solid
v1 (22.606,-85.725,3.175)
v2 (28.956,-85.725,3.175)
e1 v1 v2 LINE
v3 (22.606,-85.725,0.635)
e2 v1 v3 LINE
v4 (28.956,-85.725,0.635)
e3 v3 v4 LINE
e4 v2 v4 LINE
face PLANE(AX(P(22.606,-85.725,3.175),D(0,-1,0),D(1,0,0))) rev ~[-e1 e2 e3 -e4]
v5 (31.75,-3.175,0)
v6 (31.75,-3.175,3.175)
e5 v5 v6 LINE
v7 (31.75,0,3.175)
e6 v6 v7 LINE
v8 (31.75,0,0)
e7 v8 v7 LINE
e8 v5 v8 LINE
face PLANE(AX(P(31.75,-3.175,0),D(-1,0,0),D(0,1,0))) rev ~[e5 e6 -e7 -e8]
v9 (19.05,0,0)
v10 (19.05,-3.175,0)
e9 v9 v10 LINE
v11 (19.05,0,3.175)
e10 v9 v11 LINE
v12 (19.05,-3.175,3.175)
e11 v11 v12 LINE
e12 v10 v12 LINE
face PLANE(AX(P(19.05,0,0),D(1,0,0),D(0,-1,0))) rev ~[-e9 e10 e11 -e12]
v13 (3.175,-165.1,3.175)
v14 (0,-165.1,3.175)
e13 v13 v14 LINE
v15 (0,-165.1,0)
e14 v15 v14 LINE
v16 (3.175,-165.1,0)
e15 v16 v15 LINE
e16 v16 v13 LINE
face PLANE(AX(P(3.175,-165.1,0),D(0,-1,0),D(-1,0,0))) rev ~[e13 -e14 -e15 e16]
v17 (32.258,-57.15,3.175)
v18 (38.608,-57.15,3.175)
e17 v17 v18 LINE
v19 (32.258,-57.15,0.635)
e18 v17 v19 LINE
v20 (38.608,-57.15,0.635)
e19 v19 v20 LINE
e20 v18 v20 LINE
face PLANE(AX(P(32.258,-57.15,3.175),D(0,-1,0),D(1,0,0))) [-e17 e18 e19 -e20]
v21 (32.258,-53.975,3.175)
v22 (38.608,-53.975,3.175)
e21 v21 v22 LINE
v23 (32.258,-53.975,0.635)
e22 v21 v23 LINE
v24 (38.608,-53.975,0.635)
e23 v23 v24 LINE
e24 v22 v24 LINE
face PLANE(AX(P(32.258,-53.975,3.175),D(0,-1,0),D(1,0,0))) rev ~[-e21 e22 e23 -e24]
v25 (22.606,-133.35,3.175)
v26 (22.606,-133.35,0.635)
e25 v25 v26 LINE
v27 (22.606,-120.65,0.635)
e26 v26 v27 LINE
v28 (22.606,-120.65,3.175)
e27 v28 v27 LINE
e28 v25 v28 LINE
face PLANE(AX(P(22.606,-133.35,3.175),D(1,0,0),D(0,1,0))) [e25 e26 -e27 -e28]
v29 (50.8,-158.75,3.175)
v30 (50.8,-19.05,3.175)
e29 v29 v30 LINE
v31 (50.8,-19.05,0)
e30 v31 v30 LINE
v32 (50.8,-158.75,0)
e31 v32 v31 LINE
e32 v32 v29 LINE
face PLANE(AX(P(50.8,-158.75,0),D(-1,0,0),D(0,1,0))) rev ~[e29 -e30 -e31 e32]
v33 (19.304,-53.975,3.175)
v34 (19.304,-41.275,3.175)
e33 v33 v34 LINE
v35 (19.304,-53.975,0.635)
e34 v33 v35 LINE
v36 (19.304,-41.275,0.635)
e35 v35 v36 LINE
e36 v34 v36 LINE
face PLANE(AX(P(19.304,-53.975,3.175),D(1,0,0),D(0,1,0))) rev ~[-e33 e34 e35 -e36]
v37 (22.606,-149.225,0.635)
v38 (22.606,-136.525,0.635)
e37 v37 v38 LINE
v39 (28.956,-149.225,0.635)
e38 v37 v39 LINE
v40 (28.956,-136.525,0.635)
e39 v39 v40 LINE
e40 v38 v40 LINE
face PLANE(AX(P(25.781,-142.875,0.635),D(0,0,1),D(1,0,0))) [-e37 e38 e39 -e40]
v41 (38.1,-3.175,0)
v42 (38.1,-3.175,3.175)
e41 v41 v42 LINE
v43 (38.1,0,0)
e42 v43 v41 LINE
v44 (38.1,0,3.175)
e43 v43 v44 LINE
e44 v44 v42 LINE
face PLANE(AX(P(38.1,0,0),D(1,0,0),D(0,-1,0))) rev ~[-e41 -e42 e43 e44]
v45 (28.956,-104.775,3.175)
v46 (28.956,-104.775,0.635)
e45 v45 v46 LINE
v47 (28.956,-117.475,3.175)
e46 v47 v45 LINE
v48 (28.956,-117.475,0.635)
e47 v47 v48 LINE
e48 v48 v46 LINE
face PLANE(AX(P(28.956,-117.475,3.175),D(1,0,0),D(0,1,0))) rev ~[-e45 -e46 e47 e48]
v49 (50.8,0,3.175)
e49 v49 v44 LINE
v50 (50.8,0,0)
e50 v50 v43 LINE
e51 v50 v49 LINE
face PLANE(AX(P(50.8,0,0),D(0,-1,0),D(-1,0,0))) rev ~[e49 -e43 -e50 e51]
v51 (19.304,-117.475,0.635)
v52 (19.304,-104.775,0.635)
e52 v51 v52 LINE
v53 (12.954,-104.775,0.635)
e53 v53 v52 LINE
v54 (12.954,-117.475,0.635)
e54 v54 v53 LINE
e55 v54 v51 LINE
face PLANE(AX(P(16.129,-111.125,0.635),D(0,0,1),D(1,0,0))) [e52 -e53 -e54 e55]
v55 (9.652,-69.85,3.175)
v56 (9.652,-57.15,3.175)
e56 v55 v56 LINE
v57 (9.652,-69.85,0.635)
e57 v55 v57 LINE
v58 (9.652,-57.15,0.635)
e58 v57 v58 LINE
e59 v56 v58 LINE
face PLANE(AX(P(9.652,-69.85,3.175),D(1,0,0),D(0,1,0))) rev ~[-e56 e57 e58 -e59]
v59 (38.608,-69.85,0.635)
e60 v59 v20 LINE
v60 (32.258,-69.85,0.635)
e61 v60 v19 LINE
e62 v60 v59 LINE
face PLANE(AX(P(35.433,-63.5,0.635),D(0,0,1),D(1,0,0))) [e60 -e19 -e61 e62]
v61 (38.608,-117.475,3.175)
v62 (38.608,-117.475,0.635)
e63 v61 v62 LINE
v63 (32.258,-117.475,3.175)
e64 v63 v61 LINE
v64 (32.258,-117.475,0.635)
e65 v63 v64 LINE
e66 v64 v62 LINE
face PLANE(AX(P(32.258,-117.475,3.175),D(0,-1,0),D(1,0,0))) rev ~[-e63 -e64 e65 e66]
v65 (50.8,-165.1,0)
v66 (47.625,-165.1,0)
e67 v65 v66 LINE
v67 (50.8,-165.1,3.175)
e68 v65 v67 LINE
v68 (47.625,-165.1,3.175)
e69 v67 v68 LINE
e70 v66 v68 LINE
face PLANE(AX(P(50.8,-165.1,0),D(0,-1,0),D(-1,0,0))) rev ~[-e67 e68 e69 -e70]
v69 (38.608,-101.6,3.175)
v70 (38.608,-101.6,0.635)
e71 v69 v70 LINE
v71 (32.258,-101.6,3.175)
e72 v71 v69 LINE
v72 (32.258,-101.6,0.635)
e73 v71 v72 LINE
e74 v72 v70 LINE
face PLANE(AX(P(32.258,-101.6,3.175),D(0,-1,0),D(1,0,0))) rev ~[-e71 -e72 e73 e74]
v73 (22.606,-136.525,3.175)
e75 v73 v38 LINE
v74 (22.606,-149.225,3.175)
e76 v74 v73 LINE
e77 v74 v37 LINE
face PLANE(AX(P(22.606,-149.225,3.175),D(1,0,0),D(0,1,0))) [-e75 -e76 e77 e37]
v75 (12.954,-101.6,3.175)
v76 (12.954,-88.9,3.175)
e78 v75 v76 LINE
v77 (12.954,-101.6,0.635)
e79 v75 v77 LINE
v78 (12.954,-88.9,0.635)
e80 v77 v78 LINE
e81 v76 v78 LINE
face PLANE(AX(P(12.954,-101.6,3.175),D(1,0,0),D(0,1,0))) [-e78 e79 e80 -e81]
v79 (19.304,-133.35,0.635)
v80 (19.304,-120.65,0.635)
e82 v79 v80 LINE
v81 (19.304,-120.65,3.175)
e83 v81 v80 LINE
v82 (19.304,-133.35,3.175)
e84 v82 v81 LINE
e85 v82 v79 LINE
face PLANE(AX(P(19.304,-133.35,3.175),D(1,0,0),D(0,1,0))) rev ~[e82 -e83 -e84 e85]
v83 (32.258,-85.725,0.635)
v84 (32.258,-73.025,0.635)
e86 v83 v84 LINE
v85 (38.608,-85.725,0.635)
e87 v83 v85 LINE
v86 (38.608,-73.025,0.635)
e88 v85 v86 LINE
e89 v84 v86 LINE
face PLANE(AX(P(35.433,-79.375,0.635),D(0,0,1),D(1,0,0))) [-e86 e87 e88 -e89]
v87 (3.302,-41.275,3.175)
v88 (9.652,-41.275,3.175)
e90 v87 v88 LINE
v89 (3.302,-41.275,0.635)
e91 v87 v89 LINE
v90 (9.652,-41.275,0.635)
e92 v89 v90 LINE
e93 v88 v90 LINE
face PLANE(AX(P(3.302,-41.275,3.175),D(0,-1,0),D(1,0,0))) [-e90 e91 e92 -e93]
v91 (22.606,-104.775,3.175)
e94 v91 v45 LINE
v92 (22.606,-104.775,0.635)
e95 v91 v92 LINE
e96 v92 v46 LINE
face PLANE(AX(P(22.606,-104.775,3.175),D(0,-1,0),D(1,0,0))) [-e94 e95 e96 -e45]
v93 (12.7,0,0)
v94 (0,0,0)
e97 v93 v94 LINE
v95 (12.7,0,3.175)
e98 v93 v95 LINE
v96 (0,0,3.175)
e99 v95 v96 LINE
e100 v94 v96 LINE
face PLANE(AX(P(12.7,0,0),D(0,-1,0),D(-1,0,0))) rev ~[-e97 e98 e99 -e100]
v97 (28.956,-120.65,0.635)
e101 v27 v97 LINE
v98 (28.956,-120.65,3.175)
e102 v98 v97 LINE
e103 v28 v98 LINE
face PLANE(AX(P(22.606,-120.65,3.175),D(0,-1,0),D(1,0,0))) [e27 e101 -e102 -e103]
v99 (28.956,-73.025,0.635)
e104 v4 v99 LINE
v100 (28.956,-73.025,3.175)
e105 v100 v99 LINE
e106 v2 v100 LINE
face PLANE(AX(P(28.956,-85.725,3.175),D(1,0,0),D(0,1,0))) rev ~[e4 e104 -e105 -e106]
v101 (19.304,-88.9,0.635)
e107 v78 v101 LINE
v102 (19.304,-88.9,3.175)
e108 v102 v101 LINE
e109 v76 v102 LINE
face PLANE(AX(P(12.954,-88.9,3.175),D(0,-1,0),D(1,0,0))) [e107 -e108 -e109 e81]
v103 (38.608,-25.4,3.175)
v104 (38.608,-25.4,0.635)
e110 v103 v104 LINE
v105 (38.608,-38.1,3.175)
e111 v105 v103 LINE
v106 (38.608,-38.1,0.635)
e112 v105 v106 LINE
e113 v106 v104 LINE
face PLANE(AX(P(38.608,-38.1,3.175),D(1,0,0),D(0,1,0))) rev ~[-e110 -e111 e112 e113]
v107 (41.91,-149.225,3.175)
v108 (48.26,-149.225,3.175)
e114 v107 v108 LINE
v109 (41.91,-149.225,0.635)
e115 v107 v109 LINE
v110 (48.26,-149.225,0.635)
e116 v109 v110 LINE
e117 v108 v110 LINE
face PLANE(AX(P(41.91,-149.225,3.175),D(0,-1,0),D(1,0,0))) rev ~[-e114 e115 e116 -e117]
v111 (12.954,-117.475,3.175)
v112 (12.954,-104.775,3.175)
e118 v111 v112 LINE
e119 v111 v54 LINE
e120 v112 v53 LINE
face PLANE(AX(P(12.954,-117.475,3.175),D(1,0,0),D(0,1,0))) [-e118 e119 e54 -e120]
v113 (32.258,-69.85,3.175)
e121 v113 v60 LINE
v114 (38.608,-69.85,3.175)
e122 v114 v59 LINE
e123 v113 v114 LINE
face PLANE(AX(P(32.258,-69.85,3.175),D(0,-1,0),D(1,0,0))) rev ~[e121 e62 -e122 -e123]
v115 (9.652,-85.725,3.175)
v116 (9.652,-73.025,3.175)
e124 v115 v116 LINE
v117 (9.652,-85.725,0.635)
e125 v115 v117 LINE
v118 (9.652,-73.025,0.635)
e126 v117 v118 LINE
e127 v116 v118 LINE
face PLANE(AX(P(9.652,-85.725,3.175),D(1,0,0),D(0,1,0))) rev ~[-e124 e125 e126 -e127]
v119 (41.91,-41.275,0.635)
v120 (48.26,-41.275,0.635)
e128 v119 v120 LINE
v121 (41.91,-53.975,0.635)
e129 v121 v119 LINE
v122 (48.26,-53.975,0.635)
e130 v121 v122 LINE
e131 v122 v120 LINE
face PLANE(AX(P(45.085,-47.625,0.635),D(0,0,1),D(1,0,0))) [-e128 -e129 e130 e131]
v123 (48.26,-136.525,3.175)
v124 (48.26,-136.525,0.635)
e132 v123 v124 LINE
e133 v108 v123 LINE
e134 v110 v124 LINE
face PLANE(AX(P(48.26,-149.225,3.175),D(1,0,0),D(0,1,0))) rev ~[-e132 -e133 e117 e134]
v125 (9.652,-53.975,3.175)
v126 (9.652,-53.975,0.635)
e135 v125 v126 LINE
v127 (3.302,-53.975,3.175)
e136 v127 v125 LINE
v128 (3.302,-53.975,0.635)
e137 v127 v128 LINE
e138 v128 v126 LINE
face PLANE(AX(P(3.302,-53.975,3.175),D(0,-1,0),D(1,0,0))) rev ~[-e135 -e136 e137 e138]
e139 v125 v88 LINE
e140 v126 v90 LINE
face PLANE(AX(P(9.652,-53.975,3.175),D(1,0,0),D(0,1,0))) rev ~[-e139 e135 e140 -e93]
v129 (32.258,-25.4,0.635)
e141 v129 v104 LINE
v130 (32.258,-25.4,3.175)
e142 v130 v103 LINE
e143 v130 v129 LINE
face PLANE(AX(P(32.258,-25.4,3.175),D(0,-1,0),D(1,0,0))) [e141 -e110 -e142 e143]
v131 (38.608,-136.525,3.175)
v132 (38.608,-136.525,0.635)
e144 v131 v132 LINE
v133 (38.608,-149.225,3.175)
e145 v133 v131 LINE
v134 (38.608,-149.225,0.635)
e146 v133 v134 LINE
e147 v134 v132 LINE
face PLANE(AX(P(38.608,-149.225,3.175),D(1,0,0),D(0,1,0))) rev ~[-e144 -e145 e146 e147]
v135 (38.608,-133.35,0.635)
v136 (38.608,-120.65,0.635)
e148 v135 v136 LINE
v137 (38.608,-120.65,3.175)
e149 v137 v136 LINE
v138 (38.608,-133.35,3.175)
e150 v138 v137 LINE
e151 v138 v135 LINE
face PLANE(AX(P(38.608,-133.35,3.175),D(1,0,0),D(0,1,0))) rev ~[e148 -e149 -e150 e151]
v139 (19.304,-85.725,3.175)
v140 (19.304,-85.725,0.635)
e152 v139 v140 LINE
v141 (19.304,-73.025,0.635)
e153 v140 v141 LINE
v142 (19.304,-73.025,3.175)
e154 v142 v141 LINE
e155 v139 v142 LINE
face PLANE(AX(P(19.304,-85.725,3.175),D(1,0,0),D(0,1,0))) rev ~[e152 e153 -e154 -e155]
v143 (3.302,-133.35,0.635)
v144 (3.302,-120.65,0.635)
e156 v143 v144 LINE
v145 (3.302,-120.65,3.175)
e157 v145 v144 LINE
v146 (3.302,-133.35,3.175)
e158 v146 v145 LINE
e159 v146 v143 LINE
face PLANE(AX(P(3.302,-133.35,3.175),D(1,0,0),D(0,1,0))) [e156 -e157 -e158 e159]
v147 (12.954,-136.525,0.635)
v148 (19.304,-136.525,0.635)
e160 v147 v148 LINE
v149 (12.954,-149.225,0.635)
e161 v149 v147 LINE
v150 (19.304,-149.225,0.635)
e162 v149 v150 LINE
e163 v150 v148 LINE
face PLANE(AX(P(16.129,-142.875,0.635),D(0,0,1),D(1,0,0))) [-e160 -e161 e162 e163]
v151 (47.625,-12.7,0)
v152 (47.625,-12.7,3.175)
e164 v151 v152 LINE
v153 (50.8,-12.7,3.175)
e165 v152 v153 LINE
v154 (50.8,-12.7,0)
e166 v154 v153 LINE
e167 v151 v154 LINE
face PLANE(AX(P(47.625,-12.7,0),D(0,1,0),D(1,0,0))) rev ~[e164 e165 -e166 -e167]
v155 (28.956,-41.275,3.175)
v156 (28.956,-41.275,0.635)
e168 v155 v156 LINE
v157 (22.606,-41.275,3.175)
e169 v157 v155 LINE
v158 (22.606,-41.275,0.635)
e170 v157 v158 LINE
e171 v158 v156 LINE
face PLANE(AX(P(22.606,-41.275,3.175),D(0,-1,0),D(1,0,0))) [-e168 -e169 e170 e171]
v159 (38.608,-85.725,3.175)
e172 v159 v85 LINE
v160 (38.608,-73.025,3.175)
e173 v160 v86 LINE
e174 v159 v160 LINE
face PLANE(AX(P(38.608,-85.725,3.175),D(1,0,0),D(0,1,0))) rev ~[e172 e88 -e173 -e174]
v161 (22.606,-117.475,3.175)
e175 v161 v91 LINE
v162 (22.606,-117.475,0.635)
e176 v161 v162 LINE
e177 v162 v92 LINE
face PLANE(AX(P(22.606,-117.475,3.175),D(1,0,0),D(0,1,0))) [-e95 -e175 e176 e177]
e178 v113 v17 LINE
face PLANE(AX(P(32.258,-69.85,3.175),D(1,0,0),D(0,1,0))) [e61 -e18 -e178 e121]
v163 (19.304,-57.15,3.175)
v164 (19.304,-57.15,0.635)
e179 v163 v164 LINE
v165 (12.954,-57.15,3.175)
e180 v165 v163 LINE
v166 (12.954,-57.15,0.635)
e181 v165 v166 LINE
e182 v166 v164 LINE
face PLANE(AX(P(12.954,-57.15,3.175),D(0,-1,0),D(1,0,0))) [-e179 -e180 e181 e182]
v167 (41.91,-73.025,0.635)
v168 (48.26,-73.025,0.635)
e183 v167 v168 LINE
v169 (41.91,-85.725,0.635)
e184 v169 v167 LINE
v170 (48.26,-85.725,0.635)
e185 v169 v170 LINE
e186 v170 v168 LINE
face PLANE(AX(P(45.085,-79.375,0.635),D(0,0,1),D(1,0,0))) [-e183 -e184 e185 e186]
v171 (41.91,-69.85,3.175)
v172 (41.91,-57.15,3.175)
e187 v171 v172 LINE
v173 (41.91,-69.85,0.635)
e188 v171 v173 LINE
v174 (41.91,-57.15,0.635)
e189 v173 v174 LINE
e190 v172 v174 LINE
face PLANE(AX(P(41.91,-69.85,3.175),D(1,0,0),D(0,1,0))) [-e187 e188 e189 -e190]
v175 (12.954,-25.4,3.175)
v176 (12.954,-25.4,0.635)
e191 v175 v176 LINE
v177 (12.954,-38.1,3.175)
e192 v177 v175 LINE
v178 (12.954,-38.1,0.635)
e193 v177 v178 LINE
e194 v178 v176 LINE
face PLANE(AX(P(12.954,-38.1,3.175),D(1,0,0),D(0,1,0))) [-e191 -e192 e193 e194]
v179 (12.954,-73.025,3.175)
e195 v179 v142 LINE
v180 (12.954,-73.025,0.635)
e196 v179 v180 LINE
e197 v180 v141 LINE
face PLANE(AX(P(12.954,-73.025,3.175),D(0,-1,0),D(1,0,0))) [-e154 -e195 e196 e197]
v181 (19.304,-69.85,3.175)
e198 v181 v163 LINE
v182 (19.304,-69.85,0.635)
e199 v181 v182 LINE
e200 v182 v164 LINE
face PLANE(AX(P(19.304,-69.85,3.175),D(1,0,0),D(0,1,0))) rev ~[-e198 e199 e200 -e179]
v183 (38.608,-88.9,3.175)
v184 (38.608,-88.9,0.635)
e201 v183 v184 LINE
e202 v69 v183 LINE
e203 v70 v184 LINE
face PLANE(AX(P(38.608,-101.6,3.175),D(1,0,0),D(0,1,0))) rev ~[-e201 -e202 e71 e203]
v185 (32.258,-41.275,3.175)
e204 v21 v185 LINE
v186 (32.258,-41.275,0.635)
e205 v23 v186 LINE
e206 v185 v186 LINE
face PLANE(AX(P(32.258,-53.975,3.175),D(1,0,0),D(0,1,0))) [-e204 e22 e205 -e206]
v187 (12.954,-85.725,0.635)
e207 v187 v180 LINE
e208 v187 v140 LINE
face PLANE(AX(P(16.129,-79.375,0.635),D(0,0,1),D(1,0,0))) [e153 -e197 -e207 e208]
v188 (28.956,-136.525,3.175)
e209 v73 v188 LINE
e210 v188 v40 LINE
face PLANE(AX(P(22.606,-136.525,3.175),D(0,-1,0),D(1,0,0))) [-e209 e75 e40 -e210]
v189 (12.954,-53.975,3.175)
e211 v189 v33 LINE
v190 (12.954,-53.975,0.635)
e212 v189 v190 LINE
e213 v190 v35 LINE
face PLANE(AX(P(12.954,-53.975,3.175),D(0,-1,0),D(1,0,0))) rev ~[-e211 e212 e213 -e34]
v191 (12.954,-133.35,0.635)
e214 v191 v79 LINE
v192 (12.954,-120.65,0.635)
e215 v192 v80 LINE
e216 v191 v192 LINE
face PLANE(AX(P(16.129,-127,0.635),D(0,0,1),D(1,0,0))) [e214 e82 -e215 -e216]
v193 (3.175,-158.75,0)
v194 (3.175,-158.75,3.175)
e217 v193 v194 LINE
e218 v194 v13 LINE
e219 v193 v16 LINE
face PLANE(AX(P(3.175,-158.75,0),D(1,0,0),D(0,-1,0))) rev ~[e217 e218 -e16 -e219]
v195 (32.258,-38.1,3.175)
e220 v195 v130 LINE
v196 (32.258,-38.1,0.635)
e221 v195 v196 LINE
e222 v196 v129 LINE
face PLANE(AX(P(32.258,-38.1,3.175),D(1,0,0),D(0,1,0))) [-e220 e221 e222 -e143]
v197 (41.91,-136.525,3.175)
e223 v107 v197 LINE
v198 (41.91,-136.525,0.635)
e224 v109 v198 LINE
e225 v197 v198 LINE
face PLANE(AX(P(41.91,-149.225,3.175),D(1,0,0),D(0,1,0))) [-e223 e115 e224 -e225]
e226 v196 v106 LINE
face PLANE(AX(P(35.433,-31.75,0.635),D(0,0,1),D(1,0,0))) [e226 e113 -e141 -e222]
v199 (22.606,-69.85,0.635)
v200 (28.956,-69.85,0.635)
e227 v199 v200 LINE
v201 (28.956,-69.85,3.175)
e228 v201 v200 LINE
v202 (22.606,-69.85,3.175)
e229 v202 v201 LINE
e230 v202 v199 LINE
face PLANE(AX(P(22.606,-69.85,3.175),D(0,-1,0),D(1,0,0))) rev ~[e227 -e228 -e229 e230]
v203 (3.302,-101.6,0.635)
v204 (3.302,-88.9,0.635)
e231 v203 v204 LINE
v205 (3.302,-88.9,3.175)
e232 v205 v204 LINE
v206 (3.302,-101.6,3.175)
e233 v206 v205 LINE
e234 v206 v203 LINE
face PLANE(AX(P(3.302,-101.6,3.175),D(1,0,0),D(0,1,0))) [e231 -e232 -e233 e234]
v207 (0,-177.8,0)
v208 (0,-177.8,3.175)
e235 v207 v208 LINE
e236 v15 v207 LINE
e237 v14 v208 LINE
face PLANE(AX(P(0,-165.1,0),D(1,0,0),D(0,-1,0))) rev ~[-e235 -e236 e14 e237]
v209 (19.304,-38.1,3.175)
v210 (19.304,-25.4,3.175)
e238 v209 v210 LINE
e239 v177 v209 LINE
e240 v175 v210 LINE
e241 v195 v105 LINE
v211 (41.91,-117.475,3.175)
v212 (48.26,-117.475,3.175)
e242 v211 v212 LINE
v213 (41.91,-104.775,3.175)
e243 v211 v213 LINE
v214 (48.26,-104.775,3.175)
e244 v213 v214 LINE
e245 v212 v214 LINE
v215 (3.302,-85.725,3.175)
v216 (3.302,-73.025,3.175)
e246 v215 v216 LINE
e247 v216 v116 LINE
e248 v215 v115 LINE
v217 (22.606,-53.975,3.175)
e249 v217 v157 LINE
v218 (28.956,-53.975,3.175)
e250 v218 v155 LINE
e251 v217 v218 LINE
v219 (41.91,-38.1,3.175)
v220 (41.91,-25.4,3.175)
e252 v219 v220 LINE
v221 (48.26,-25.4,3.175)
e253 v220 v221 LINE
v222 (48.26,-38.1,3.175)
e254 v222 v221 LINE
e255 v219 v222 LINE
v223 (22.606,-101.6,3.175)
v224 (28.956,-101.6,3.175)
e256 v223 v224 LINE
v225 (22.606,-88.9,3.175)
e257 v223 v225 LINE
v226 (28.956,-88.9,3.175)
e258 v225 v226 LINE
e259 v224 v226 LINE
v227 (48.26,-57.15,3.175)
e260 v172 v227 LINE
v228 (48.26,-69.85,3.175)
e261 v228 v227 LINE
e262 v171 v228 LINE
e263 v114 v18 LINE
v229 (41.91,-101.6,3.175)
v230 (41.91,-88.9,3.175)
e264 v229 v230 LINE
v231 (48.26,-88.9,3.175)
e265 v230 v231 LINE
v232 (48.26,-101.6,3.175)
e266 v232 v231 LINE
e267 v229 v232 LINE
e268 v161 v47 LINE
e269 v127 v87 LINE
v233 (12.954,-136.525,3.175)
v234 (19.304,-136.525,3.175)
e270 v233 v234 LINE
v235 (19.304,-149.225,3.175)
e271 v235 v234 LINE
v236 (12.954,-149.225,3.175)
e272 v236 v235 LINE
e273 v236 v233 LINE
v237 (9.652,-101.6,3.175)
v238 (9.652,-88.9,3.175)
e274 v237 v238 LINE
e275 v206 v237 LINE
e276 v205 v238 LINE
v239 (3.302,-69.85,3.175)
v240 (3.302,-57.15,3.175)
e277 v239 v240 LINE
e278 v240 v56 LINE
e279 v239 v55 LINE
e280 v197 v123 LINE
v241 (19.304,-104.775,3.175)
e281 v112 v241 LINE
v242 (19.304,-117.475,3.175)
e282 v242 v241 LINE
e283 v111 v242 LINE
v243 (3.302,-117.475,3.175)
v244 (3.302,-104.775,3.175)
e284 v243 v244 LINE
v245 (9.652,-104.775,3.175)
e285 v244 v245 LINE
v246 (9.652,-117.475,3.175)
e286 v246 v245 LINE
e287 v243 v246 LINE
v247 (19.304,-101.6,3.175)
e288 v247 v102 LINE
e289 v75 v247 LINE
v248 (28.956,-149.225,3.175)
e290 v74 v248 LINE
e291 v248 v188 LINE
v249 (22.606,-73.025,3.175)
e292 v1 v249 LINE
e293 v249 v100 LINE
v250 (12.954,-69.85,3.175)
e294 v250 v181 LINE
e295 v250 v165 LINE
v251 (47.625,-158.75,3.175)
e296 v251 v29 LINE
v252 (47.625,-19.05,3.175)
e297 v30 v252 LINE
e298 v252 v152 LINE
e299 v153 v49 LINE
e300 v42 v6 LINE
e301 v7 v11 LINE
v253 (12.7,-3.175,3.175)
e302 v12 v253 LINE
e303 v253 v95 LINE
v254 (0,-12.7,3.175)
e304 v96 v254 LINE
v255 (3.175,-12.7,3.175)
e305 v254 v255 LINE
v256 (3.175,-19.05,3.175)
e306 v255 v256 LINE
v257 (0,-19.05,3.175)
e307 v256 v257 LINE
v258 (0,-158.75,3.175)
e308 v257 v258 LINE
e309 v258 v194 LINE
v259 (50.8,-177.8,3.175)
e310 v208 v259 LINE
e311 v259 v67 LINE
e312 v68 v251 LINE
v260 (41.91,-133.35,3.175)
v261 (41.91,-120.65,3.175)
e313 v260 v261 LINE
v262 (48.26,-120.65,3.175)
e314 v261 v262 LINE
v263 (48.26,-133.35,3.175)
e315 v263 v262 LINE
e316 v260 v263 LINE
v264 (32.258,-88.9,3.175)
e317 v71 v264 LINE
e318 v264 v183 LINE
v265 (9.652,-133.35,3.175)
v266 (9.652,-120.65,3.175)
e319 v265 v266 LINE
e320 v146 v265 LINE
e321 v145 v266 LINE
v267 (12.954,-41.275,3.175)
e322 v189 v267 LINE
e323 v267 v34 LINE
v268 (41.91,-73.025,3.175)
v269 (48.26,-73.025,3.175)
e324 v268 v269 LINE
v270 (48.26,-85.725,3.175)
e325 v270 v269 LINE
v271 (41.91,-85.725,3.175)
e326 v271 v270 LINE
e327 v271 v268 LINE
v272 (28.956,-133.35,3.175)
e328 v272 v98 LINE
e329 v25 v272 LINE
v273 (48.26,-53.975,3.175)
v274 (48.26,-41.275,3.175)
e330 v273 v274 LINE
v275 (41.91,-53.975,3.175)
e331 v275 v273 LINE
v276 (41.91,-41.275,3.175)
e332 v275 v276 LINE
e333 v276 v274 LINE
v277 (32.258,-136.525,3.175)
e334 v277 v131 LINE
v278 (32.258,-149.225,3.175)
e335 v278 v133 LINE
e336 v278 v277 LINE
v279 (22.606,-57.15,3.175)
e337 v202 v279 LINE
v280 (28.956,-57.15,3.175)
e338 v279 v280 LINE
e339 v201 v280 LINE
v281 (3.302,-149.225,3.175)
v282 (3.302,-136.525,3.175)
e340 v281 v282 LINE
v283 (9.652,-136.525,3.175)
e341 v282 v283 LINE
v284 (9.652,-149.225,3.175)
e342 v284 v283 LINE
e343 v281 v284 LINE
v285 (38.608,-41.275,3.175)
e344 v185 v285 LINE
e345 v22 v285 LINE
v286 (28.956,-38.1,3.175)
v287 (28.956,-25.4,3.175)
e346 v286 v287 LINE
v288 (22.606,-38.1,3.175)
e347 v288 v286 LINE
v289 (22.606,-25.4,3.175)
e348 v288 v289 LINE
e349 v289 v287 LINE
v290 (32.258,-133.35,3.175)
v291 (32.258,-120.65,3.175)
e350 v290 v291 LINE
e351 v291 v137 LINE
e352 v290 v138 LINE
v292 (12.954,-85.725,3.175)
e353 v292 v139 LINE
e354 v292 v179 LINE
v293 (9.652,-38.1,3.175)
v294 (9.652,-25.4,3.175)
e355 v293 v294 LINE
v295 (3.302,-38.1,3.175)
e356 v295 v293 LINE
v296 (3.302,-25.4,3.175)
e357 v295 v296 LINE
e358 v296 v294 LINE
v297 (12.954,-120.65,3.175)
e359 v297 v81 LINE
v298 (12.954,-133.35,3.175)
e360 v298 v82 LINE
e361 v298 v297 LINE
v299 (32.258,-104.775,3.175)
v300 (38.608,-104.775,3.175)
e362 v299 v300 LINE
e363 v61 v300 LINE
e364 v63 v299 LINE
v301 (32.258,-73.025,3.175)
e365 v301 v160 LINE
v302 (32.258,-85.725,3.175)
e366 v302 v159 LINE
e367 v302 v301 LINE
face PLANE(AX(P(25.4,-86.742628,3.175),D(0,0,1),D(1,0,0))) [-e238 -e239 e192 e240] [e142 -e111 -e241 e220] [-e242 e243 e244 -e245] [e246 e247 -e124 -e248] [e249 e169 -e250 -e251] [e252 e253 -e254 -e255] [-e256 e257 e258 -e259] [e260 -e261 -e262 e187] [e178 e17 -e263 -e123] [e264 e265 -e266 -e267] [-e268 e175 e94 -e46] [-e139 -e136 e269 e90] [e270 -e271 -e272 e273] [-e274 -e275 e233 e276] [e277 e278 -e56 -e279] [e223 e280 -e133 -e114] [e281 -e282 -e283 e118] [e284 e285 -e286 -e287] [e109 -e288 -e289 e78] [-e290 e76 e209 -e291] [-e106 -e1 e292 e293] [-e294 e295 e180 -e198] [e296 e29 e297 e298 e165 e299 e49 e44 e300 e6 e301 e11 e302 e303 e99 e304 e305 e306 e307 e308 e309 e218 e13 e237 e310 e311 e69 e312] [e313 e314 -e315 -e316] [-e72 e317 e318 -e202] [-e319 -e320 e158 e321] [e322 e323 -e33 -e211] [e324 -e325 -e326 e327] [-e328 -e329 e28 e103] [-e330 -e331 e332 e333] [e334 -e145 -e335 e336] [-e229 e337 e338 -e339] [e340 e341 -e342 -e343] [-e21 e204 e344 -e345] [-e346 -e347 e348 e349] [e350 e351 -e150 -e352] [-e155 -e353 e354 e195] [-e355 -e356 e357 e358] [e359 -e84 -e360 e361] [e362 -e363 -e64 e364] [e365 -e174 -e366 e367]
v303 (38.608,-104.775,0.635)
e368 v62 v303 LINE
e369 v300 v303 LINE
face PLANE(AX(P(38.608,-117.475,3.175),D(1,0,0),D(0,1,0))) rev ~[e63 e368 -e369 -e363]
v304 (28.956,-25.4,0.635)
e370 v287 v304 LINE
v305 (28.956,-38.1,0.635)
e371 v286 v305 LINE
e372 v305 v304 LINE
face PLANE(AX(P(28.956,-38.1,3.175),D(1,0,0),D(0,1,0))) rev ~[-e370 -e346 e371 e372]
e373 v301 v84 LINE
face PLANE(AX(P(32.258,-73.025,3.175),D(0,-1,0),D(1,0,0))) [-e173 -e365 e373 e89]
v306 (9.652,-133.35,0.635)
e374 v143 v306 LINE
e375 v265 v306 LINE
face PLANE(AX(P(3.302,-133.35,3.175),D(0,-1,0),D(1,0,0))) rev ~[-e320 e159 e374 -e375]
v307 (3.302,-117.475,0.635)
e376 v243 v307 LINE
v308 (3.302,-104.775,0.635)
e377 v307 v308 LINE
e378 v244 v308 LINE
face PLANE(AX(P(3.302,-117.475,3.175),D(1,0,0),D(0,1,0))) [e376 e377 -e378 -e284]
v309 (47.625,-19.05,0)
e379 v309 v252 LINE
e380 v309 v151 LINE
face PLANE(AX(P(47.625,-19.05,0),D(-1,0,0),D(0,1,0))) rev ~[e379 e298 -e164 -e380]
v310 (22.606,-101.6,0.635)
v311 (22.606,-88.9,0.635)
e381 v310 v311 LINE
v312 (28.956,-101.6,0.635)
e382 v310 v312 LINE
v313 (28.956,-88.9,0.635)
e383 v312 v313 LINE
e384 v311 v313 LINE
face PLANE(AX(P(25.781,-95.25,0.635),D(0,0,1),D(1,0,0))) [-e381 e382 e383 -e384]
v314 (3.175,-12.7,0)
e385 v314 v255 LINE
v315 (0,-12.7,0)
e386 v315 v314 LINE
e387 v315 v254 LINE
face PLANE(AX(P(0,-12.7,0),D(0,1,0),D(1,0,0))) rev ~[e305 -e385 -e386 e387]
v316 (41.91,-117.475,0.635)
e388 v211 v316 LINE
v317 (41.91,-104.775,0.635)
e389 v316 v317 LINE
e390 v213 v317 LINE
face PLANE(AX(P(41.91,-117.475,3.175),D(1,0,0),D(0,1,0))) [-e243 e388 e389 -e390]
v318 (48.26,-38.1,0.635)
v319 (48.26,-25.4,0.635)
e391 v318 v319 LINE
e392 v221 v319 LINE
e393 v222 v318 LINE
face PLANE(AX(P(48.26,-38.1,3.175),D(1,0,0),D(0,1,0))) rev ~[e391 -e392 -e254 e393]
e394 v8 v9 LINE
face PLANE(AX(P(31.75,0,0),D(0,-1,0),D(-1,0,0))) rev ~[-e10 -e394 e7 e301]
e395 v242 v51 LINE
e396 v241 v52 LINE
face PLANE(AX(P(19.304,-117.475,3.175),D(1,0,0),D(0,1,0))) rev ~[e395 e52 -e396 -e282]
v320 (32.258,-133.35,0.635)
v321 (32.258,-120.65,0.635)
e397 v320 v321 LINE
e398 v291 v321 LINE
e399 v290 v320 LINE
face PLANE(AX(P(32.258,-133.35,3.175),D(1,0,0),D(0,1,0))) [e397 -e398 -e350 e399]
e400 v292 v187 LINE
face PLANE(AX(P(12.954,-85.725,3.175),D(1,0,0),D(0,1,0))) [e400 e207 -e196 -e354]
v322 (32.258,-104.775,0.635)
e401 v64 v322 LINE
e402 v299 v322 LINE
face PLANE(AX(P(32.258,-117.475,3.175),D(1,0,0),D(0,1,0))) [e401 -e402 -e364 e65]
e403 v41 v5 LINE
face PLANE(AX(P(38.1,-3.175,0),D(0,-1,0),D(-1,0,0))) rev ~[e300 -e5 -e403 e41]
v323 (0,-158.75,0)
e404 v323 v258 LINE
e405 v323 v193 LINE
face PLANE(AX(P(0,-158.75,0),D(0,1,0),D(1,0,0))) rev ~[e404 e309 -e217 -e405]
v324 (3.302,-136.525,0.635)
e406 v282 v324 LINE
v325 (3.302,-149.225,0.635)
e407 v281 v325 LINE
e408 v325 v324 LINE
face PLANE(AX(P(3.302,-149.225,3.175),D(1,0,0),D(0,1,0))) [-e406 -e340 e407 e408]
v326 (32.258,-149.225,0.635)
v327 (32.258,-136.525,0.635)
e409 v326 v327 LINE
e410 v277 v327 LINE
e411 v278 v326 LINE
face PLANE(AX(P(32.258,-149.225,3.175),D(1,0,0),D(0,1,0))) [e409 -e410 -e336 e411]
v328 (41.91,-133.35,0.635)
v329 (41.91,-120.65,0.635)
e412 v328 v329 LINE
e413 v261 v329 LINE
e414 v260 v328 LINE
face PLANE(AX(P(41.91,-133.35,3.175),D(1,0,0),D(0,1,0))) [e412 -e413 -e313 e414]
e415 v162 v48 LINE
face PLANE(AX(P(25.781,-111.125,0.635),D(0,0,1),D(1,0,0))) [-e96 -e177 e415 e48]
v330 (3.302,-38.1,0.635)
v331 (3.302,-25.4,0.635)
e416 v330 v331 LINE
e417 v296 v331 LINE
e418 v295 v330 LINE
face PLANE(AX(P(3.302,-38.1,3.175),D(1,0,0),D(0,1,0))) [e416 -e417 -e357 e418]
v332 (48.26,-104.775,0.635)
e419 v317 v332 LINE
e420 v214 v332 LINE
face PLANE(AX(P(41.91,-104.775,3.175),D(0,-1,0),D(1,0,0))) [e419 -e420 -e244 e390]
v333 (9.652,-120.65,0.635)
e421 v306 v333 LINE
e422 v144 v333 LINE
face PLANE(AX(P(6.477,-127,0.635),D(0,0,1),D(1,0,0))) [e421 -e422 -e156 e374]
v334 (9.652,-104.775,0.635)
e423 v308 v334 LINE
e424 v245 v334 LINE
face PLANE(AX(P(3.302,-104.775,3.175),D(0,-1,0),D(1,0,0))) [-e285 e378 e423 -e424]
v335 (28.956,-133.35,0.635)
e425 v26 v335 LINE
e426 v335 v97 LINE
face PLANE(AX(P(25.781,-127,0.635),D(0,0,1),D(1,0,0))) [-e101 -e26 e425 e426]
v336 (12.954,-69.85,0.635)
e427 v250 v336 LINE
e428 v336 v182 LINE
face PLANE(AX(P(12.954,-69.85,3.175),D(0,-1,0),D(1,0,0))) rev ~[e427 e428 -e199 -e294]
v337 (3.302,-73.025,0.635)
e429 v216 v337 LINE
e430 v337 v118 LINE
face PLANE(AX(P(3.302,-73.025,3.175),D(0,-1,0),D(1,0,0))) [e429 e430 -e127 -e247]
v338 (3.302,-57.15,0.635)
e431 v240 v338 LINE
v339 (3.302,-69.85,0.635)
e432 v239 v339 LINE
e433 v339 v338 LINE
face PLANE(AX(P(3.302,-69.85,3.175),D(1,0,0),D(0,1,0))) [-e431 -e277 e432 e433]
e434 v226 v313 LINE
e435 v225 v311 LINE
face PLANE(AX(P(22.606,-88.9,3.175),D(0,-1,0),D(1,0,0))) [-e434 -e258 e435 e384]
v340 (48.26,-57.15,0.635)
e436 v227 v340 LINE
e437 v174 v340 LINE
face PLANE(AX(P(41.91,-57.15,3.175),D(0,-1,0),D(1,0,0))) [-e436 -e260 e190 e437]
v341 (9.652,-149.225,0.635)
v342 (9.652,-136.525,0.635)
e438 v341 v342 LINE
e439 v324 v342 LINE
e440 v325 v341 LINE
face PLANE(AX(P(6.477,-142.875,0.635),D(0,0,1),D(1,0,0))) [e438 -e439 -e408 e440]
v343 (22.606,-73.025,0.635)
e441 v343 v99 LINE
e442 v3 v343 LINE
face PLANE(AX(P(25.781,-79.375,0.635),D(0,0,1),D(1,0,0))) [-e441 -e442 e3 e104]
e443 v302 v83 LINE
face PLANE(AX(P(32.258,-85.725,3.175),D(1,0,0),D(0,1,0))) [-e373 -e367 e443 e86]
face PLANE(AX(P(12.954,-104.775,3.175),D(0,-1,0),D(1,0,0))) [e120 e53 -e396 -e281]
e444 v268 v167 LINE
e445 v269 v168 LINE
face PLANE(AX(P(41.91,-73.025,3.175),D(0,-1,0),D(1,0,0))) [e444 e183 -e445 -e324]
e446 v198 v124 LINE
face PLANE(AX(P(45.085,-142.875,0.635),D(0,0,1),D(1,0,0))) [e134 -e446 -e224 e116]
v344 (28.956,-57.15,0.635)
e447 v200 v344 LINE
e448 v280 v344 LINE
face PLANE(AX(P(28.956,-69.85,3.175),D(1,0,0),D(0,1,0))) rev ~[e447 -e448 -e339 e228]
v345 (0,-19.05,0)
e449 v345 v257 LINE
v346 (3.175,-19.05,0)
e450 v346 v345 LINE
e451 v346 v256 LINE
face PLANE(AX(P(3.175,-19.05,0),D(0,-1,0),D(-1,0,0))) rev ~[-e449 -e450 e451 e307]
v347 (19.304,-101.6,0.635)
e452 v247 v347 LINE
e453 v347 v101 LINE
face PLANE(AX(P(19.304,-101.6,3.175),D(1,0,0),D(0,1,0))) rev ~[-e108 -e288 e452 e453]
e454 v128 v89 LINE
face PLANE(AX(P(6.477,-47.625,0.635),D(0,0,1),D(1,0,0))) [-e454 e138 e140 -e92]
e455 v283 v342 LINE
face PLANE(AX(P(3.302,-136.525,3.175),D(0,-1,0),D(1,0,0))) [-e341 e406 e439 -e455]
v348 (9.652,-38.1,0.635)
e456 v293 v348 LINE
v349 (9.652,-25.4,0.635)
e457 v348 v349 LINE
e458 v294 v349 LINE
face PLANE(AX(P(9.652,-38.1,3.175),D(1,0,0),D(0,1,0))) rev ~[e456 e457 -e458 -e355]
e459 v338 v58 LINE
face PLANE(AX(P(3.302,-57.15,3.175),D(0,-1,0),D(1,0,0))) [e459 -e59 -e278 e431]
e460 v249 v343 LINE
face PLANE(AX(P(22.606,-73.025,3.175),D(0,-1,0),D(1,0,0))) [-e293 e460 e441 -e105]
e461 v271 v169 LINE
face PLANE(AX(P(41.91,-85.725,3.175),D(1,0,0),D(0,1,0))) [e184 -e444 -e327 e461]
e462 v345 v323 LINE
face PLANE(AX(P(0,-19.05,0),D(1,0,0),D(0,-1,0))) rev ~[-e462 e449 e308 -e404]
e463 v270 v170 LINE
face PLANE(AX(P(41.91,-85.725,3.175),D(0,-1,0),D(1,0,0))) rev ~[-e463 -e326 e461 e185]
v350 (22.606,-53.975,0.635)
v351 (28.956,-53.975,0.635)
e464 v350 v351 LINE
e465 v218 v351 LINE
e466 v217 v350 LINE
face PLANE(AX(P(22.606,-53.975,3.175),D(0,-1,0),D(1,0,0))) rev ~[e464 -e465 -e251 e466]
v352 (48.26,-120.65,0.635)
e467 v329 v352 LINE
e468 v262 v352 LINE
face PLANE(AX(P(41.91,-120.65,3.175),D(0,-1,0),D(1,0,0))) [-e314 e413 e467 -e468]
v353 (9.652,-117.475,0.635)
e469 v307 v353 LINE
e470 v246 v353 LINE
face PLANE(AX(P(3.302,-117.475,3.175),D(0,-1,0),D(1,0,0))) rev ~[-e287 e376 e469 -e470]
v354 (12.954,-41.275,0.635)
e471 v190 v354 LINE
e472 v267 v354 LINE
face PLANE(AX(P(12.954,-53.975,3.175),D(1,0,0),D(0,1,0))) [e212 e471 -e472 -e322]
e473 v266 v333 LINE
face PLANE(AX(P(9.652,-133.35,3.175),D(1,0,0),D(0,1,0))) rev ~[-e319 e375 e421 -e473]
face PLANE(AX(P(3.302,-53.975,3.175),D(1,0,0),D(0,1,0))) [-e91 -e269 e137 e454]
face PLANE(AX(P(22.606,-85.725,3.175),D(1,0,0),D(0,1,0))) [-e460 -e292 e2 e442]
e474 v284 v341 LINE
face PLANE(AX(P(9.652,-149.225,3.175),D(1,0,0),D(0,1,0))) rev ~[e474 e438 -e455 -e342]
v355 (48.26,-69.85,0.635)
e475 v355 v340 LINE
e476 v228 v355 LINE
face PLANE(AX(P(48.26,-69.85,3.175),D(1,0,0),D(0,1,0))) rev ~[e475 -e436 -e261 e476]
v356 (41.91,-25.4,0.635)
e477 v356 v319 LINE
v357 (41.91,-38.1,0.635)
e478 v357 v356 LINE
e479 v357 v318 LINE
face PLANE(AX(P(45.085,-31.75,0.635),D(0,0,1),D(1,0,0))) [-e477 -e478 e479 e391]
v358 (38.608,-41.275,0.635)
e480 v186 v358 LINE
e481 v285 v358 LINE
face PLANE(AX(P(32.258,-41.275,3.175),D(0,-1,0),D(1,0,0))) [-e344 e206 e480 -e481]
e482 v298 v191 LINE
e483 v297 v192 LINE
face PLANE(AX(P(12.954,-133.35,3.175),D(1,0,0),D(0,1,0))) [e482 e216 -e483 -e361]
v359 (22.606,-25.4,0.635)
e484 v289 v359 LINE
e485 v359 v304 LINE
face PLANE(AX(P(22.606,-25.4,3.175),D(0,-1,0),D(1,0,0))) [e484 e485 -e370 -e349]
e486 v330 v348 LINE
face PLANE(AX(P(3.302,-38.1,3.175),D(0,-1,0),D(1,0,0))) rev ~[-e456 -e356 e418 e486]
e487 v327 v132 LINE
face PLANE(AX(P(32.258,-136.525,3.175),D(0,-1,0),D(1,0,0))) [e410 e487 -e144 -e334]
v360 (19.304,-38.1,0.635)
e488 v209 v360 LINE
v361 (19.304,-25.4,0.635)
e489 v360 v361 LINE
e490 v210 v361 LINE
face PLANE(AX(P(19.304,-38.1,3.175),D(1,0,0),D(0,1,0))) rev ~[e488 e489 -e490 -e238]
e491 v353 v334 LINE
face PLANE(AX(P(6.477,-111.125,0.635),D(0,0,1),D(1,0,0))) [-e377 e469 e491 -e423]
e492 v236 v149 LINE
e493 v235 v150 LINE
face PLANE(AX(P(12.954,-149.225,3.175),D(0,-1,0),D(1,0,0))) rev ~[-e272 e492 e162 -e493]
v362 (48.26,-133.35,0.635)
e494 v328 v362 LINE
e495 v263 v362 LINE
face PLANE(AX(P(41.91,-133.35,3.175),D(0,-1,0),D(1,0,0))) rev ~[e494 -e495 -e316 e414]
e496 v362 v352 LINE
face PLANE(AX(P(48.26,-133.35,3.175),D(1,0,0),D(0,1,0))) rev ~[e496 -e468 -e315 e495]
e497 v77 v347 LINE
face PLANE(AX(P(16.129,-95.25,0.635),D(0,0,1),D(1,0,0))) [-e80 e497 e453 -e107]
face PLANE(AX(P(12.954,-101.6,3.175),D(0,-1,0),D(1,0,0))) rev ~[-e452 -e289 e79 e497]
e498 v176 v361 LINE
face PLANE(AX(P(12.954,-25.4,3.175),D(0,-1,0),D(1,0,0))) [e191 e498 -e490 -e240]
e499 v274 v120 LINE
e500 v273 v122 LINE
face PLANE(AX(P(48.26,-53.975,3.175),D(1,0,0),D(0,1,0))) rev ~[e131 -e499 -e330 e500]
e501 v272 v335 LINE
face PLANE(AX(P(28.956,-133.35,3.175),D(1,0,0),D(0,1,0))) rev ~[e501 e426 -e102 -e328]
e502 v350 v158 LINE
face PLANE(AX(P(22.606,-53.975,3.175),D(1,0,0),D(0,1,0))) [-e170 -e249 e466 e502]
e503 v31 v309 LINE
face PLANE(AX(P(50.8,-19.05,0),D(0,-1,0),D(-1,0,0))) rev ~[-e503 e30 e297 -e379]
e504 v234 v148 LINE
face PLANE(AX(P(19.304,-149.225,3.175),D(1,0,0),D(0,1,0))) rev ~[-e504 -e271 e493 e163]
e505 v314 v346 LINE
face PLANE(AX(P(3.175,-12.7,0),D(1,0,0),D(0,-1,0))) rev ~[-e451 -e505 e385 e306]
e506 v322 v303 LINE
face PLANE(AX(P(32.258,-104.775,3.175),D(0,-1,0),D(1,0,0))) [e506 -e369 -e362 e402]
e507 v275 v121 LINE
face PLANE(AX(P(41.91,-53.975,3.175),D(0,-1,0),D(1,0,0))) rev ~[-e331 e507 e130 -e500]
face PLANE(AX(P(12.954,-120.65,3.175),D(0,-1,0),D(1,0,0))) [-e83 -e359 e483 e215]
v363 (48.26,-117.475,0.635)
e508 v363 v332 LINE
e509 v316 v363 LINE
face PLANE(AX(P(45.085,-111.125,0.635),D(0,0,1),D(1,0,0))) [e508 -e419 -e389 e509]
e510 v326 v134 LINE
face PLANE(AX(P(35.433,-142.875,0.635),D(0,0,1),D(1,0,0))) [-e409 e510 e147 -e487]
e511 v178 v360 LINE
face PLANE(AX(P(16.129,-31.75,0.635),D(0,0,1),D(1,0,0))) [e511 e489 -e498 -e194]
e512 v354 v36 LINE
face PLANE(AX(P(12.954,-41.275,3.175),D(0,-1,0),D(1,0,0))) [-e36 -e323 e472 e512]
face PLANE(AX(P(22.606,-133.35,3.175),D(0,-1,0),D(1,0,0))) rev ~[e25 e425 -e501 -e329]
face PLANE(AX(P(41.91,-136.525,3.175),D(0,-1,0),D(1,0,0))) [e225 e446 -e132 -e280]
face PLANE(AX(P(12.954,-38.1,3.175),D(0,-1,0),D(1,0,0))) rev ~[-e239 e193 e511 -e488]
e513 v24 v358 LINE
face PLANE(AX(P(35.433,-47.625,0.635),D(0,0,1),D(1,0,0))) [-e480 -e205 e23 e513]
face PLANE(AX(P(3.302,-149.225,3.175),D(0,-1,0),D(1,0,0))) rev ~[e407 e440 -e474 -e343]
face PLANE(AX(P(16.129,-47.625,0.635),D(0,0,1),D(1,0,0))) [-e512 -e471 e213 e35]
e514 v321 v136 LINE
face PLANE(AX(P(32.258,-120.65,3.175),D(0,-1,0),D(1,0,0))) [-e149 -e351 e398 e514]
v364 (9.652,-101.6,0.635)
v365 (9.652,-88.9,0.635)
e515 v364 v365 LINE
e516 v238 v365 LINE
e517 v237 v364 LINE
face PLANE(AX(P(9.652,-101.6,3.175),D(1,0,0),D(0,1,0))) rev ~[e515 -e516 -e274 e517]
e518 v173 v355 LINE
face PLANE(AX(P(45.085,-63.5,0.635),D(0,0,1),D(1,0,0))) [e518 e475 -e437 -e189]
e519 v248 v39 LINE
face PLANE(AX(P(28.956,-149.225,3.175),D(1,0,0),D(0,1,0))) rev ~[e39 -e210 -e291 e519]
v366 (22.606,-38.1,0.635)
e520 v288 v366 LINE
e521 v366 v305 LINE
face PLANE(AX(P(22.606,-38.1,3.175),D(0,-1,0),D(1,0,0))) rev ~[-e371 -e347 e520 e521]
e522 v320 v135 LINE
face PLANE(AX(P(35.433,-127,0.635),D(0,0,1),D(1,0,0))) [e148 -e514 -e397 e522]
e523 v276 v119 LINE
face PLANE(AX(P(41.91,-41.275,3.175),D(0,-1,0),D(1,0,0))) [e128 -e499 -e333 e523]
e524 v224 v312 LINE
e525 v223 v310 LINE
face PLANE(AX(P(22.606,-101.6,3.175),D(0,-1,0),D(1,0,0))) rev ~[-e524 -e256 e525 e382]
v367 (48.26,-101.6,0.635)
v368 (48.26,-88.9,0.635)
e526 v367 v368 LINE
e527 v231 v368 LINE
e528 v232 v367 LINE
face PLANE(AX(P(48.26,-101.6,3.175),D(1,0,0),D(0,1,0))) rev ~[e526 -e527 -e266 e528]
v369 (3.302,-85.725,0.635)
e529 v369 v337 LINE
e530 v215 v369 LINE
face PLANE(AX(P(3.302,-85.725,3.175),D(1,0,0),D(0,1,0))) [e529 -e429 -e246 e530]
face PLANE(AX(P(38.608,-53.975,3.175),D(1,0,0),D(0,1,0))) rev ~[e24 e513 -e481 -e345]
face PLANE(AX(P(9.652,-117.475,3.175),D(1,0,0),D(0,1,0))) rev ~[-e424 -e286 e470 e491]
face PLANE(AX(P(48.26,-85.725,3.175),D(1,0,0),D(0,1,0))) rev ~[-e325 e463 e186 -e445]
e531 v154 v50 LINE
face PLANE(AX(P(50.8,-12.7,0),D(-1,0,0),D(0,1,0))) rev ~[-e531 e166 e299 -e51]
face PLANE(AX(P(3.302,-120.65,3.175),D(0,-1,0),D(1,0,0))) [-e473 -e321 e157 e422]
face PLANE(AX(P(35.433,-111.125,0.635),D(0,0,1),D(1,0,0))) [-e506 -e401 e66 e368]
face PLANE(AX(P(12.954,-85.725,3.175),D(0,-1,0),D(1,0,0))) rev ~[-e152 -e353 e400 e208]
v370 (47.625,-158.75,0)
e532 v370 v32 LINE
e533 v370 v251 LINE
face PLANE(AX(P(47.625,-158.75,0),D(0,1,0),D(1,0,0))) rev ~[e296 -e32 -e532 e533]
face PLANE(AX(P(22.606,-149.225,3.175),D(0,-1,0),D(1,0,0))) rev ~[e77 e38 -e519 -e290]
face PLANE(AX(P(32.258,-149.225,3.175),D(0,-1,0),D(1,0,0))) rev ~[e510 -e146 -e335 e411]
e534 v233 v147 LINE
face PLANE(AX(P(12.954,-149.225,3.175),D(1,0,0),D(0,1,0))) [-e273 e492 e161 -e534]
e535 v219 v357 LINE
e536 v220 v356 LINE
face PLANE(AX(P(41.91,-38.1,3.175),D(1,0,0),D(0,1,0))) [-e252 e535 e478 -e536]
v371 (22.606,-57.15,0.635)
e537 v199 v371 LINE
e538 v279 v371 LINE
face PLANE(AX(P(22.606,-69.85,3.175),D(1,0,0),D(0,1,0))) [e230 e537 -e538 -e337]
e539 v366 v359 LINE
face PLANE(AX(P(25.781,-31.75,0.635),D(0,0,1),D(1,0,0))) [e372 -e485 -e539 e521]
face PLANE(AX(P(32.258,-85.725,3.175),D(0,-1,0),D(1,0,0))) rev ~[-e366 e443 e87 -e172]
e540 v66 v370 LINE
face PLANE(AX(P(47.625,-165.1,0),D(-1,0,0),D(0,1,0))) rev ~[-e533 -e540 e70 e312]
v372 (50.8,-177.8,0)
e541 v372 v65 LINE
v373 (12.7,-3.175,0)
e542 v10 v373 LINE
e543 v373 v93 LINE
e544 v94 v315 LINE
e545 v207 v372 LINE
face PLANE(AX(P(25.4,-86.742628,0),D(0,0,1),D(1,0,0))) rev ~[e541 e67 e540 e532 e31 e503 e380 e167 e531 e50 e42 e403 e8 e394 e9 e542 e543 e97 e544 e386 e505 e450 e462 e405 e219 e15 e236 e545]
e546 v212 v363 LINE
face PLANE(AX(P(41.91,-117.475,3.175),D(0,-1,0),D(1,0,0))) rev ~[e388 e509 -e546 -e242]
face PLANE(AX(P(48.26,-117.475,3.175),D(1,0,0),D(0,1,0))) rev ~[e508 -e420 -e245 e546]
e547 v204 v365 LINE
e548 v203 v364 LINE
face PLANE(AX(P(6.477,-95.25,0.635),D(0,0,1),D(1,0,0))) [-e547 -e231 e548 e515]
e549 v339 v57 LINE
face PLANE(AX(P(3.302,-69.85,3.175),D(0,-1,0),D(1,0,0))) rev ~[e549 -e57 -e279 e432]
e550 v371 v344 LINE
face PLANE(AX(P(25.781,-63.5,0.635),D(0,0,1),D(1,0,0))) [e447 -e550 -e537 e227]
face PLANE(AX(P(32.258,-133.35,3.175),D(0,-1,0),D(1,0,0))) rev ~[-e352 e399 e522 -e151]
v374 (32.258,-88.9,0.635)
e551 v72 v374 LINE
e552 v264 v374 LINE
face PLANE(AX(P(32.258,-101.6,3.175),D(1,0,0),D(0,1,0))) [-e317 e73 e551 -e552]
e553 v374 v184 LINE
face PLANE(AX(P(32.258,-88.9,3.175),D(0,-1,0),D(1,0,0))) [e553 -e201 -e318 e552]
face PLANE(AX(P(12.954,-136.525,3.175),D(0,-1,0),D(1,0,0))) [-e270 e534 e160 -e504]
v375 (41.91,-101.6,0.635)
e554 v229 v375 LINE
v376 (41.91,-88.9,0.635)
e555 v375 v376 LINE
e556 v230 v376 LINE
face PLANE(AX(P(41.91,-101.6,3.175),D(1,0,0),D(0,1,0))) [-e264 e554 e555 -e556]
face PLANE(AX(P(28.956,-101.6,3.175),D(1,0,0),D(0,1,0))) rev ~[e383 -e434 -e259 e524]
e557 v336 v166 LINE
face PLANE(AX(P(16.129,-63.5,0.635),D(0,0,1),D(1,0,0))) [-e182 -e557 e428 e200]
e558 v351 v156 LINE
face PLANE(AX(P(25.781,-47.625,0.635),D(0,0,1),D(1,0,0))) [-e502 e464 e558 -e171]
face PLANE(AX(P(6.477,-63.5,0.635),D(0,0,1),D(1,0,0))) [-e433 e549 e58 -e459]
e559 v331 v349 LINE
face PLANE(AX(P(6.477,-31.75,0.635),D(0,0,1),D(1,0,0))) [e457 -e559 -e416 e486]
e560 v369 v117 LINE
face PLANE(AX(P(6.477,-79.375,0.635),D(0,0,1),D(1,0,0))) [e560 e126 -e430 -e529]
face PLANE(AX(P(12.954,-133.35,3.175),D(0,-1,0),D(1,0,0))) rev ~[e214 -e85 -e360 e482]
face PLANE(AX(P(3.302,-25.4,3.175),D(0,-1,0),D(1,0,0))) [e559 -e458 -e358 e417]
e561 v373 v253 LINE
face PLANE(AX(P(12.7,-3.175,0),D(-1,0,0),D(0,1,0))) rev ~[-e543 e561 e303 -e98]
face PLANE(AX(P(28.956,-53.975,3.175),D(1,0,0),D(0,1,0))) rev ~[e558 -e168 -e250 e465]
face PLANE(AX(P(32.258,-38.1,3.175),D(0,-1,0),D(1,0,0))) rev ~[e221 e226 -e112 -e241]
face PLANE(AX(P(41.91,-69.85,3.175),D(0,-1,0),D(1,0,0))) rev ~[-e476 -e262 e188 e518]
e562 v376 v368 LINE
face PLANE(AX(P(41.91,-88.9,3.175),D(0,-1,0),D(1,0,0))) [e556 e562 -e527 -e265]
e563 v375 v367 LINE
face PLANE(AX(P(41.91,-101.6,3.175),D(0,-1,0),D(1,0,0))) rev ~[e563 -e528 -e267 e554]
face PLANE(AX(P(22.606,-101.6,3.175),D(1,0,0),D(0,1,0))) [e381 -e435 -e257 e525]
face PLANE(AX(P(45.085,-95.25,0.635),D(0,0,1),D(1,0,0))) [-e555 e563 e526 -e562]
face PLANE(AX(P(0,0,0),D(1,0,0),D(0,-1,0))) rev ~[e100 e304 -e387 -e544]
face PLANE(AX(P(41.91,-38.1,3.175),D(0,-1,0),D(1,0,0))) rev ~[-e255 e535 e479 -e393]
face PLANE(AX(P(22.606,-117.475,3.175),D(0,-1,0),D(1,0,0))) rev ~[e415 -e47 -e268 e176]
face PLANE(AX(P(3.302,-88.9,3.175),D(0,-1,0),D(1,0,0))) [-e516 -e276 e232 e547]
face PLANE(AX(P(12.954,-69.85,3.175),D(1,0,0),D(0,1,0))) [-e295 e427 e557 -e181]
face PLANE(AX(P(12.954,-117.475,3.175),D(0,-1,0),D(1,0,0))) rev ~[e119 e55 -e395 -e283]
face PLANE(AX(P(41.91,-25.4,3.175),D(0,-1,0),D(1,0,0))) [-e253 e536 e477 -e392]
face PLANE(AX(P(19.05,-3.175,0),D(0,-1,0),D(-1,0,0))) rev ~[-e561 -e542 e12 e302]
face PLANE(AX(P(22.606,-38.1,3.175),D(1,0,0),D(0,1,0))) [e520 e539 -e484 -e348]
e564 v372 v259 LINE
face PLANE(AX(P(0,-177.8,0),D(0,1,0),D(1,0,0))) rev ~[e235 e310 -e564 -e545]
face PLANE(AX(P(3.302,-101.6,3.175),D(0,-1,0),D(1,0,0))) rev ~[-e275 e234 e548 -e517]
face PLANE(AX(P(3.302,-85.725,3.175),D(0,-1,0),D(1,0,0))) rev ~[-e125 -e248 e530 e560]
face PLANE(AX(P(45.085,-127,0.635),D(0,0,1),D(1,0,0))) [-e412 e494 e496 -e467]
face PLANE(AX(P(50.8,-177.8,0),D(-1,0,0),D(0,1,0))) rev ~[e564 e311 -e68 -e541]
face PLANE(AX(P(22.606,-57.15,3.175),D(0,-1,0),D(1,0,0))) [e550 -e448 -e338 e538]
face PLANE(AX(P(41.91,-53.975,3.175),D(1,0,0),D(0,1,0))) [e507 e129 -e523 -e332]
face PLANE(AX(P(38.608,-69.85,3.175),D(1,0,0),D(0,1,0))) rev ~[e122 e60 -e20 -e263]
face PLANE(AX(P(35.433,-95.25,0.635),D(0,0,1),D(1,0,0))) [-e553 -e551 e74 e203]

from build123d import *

# Parameters (mm, degrees)
BOSS_EXTRUDE1_DEPTH  = 3.175
SKETCH2_W            = 6.35
SKETCH2_H            = 12.7
CUT_EXTRUDE1_DEPTH   = 2.54
LPATTERN1_COUNT      = 5
LPATTERN1_PITCH      = 9.652
LPATTERN1_COUNT_DIR2 = 8
LPATTERN1_PITCH_DIR2 = 15.875


with BuildPart() as part:
    # Sketch1 → Boss-Extrude1 (new body)
    with BuildSketch(Plane.XY):
        Polygon((0, -177.8), (12.7, -177.8), (38.1, -177.8), (50.8, -177.8), (50.8, -165.1), (47.625, -165.1), (47.625, -158.75), (50.8, -158.75), (50.8, -19.05), (47.625, -19.05), (47.625, -12.7), (50.8, -12.7), (50.8, 0), (38.1, 0), (38.1, -3.175), (31.75, -3.175), (31.75, 0), (19.05, 0), (19.05, -3.175), (12.7, -3.175), (12.7, 0), (0, 0), (0, -12.7), (3.175, -12.7), (3.175, -19.05), (0, -19.05), (0, -158.75), (3.175, -158.75), (3.175, -165.1), (0, -165.1), align=None)
    extrude(amount=BOSS_EXTRUDE1_DEPTH)

    # Sketch2 → Cut-Extrude1 (cut)
    with BuildSketch(Plane.XY.offset(3.175)):
        with Locations((6.477, -31.75)):
            Rectangle(SKETCH2_W, SKETCH2_H)
    cut_extrude1 = extrude(amount=-CUT_EXTRUDE1_DEPTH, mode=Mode.SUBTRACT)

    # LPattern1: Cut-Extrude1 5 × 8
    with Locations(*[(i * LPATTERN1_PITCH, -j * LPATTERN1_PITCH_DIR2, 0) for i in range(LPATTERN1_COUNT) for j in range(LPATTERN1_COUNT_DIR2) if (i, j) != (0, 0)]):
        add(cut_extrude1, mode=Mode.SUBTRACT)


solid = part.part
